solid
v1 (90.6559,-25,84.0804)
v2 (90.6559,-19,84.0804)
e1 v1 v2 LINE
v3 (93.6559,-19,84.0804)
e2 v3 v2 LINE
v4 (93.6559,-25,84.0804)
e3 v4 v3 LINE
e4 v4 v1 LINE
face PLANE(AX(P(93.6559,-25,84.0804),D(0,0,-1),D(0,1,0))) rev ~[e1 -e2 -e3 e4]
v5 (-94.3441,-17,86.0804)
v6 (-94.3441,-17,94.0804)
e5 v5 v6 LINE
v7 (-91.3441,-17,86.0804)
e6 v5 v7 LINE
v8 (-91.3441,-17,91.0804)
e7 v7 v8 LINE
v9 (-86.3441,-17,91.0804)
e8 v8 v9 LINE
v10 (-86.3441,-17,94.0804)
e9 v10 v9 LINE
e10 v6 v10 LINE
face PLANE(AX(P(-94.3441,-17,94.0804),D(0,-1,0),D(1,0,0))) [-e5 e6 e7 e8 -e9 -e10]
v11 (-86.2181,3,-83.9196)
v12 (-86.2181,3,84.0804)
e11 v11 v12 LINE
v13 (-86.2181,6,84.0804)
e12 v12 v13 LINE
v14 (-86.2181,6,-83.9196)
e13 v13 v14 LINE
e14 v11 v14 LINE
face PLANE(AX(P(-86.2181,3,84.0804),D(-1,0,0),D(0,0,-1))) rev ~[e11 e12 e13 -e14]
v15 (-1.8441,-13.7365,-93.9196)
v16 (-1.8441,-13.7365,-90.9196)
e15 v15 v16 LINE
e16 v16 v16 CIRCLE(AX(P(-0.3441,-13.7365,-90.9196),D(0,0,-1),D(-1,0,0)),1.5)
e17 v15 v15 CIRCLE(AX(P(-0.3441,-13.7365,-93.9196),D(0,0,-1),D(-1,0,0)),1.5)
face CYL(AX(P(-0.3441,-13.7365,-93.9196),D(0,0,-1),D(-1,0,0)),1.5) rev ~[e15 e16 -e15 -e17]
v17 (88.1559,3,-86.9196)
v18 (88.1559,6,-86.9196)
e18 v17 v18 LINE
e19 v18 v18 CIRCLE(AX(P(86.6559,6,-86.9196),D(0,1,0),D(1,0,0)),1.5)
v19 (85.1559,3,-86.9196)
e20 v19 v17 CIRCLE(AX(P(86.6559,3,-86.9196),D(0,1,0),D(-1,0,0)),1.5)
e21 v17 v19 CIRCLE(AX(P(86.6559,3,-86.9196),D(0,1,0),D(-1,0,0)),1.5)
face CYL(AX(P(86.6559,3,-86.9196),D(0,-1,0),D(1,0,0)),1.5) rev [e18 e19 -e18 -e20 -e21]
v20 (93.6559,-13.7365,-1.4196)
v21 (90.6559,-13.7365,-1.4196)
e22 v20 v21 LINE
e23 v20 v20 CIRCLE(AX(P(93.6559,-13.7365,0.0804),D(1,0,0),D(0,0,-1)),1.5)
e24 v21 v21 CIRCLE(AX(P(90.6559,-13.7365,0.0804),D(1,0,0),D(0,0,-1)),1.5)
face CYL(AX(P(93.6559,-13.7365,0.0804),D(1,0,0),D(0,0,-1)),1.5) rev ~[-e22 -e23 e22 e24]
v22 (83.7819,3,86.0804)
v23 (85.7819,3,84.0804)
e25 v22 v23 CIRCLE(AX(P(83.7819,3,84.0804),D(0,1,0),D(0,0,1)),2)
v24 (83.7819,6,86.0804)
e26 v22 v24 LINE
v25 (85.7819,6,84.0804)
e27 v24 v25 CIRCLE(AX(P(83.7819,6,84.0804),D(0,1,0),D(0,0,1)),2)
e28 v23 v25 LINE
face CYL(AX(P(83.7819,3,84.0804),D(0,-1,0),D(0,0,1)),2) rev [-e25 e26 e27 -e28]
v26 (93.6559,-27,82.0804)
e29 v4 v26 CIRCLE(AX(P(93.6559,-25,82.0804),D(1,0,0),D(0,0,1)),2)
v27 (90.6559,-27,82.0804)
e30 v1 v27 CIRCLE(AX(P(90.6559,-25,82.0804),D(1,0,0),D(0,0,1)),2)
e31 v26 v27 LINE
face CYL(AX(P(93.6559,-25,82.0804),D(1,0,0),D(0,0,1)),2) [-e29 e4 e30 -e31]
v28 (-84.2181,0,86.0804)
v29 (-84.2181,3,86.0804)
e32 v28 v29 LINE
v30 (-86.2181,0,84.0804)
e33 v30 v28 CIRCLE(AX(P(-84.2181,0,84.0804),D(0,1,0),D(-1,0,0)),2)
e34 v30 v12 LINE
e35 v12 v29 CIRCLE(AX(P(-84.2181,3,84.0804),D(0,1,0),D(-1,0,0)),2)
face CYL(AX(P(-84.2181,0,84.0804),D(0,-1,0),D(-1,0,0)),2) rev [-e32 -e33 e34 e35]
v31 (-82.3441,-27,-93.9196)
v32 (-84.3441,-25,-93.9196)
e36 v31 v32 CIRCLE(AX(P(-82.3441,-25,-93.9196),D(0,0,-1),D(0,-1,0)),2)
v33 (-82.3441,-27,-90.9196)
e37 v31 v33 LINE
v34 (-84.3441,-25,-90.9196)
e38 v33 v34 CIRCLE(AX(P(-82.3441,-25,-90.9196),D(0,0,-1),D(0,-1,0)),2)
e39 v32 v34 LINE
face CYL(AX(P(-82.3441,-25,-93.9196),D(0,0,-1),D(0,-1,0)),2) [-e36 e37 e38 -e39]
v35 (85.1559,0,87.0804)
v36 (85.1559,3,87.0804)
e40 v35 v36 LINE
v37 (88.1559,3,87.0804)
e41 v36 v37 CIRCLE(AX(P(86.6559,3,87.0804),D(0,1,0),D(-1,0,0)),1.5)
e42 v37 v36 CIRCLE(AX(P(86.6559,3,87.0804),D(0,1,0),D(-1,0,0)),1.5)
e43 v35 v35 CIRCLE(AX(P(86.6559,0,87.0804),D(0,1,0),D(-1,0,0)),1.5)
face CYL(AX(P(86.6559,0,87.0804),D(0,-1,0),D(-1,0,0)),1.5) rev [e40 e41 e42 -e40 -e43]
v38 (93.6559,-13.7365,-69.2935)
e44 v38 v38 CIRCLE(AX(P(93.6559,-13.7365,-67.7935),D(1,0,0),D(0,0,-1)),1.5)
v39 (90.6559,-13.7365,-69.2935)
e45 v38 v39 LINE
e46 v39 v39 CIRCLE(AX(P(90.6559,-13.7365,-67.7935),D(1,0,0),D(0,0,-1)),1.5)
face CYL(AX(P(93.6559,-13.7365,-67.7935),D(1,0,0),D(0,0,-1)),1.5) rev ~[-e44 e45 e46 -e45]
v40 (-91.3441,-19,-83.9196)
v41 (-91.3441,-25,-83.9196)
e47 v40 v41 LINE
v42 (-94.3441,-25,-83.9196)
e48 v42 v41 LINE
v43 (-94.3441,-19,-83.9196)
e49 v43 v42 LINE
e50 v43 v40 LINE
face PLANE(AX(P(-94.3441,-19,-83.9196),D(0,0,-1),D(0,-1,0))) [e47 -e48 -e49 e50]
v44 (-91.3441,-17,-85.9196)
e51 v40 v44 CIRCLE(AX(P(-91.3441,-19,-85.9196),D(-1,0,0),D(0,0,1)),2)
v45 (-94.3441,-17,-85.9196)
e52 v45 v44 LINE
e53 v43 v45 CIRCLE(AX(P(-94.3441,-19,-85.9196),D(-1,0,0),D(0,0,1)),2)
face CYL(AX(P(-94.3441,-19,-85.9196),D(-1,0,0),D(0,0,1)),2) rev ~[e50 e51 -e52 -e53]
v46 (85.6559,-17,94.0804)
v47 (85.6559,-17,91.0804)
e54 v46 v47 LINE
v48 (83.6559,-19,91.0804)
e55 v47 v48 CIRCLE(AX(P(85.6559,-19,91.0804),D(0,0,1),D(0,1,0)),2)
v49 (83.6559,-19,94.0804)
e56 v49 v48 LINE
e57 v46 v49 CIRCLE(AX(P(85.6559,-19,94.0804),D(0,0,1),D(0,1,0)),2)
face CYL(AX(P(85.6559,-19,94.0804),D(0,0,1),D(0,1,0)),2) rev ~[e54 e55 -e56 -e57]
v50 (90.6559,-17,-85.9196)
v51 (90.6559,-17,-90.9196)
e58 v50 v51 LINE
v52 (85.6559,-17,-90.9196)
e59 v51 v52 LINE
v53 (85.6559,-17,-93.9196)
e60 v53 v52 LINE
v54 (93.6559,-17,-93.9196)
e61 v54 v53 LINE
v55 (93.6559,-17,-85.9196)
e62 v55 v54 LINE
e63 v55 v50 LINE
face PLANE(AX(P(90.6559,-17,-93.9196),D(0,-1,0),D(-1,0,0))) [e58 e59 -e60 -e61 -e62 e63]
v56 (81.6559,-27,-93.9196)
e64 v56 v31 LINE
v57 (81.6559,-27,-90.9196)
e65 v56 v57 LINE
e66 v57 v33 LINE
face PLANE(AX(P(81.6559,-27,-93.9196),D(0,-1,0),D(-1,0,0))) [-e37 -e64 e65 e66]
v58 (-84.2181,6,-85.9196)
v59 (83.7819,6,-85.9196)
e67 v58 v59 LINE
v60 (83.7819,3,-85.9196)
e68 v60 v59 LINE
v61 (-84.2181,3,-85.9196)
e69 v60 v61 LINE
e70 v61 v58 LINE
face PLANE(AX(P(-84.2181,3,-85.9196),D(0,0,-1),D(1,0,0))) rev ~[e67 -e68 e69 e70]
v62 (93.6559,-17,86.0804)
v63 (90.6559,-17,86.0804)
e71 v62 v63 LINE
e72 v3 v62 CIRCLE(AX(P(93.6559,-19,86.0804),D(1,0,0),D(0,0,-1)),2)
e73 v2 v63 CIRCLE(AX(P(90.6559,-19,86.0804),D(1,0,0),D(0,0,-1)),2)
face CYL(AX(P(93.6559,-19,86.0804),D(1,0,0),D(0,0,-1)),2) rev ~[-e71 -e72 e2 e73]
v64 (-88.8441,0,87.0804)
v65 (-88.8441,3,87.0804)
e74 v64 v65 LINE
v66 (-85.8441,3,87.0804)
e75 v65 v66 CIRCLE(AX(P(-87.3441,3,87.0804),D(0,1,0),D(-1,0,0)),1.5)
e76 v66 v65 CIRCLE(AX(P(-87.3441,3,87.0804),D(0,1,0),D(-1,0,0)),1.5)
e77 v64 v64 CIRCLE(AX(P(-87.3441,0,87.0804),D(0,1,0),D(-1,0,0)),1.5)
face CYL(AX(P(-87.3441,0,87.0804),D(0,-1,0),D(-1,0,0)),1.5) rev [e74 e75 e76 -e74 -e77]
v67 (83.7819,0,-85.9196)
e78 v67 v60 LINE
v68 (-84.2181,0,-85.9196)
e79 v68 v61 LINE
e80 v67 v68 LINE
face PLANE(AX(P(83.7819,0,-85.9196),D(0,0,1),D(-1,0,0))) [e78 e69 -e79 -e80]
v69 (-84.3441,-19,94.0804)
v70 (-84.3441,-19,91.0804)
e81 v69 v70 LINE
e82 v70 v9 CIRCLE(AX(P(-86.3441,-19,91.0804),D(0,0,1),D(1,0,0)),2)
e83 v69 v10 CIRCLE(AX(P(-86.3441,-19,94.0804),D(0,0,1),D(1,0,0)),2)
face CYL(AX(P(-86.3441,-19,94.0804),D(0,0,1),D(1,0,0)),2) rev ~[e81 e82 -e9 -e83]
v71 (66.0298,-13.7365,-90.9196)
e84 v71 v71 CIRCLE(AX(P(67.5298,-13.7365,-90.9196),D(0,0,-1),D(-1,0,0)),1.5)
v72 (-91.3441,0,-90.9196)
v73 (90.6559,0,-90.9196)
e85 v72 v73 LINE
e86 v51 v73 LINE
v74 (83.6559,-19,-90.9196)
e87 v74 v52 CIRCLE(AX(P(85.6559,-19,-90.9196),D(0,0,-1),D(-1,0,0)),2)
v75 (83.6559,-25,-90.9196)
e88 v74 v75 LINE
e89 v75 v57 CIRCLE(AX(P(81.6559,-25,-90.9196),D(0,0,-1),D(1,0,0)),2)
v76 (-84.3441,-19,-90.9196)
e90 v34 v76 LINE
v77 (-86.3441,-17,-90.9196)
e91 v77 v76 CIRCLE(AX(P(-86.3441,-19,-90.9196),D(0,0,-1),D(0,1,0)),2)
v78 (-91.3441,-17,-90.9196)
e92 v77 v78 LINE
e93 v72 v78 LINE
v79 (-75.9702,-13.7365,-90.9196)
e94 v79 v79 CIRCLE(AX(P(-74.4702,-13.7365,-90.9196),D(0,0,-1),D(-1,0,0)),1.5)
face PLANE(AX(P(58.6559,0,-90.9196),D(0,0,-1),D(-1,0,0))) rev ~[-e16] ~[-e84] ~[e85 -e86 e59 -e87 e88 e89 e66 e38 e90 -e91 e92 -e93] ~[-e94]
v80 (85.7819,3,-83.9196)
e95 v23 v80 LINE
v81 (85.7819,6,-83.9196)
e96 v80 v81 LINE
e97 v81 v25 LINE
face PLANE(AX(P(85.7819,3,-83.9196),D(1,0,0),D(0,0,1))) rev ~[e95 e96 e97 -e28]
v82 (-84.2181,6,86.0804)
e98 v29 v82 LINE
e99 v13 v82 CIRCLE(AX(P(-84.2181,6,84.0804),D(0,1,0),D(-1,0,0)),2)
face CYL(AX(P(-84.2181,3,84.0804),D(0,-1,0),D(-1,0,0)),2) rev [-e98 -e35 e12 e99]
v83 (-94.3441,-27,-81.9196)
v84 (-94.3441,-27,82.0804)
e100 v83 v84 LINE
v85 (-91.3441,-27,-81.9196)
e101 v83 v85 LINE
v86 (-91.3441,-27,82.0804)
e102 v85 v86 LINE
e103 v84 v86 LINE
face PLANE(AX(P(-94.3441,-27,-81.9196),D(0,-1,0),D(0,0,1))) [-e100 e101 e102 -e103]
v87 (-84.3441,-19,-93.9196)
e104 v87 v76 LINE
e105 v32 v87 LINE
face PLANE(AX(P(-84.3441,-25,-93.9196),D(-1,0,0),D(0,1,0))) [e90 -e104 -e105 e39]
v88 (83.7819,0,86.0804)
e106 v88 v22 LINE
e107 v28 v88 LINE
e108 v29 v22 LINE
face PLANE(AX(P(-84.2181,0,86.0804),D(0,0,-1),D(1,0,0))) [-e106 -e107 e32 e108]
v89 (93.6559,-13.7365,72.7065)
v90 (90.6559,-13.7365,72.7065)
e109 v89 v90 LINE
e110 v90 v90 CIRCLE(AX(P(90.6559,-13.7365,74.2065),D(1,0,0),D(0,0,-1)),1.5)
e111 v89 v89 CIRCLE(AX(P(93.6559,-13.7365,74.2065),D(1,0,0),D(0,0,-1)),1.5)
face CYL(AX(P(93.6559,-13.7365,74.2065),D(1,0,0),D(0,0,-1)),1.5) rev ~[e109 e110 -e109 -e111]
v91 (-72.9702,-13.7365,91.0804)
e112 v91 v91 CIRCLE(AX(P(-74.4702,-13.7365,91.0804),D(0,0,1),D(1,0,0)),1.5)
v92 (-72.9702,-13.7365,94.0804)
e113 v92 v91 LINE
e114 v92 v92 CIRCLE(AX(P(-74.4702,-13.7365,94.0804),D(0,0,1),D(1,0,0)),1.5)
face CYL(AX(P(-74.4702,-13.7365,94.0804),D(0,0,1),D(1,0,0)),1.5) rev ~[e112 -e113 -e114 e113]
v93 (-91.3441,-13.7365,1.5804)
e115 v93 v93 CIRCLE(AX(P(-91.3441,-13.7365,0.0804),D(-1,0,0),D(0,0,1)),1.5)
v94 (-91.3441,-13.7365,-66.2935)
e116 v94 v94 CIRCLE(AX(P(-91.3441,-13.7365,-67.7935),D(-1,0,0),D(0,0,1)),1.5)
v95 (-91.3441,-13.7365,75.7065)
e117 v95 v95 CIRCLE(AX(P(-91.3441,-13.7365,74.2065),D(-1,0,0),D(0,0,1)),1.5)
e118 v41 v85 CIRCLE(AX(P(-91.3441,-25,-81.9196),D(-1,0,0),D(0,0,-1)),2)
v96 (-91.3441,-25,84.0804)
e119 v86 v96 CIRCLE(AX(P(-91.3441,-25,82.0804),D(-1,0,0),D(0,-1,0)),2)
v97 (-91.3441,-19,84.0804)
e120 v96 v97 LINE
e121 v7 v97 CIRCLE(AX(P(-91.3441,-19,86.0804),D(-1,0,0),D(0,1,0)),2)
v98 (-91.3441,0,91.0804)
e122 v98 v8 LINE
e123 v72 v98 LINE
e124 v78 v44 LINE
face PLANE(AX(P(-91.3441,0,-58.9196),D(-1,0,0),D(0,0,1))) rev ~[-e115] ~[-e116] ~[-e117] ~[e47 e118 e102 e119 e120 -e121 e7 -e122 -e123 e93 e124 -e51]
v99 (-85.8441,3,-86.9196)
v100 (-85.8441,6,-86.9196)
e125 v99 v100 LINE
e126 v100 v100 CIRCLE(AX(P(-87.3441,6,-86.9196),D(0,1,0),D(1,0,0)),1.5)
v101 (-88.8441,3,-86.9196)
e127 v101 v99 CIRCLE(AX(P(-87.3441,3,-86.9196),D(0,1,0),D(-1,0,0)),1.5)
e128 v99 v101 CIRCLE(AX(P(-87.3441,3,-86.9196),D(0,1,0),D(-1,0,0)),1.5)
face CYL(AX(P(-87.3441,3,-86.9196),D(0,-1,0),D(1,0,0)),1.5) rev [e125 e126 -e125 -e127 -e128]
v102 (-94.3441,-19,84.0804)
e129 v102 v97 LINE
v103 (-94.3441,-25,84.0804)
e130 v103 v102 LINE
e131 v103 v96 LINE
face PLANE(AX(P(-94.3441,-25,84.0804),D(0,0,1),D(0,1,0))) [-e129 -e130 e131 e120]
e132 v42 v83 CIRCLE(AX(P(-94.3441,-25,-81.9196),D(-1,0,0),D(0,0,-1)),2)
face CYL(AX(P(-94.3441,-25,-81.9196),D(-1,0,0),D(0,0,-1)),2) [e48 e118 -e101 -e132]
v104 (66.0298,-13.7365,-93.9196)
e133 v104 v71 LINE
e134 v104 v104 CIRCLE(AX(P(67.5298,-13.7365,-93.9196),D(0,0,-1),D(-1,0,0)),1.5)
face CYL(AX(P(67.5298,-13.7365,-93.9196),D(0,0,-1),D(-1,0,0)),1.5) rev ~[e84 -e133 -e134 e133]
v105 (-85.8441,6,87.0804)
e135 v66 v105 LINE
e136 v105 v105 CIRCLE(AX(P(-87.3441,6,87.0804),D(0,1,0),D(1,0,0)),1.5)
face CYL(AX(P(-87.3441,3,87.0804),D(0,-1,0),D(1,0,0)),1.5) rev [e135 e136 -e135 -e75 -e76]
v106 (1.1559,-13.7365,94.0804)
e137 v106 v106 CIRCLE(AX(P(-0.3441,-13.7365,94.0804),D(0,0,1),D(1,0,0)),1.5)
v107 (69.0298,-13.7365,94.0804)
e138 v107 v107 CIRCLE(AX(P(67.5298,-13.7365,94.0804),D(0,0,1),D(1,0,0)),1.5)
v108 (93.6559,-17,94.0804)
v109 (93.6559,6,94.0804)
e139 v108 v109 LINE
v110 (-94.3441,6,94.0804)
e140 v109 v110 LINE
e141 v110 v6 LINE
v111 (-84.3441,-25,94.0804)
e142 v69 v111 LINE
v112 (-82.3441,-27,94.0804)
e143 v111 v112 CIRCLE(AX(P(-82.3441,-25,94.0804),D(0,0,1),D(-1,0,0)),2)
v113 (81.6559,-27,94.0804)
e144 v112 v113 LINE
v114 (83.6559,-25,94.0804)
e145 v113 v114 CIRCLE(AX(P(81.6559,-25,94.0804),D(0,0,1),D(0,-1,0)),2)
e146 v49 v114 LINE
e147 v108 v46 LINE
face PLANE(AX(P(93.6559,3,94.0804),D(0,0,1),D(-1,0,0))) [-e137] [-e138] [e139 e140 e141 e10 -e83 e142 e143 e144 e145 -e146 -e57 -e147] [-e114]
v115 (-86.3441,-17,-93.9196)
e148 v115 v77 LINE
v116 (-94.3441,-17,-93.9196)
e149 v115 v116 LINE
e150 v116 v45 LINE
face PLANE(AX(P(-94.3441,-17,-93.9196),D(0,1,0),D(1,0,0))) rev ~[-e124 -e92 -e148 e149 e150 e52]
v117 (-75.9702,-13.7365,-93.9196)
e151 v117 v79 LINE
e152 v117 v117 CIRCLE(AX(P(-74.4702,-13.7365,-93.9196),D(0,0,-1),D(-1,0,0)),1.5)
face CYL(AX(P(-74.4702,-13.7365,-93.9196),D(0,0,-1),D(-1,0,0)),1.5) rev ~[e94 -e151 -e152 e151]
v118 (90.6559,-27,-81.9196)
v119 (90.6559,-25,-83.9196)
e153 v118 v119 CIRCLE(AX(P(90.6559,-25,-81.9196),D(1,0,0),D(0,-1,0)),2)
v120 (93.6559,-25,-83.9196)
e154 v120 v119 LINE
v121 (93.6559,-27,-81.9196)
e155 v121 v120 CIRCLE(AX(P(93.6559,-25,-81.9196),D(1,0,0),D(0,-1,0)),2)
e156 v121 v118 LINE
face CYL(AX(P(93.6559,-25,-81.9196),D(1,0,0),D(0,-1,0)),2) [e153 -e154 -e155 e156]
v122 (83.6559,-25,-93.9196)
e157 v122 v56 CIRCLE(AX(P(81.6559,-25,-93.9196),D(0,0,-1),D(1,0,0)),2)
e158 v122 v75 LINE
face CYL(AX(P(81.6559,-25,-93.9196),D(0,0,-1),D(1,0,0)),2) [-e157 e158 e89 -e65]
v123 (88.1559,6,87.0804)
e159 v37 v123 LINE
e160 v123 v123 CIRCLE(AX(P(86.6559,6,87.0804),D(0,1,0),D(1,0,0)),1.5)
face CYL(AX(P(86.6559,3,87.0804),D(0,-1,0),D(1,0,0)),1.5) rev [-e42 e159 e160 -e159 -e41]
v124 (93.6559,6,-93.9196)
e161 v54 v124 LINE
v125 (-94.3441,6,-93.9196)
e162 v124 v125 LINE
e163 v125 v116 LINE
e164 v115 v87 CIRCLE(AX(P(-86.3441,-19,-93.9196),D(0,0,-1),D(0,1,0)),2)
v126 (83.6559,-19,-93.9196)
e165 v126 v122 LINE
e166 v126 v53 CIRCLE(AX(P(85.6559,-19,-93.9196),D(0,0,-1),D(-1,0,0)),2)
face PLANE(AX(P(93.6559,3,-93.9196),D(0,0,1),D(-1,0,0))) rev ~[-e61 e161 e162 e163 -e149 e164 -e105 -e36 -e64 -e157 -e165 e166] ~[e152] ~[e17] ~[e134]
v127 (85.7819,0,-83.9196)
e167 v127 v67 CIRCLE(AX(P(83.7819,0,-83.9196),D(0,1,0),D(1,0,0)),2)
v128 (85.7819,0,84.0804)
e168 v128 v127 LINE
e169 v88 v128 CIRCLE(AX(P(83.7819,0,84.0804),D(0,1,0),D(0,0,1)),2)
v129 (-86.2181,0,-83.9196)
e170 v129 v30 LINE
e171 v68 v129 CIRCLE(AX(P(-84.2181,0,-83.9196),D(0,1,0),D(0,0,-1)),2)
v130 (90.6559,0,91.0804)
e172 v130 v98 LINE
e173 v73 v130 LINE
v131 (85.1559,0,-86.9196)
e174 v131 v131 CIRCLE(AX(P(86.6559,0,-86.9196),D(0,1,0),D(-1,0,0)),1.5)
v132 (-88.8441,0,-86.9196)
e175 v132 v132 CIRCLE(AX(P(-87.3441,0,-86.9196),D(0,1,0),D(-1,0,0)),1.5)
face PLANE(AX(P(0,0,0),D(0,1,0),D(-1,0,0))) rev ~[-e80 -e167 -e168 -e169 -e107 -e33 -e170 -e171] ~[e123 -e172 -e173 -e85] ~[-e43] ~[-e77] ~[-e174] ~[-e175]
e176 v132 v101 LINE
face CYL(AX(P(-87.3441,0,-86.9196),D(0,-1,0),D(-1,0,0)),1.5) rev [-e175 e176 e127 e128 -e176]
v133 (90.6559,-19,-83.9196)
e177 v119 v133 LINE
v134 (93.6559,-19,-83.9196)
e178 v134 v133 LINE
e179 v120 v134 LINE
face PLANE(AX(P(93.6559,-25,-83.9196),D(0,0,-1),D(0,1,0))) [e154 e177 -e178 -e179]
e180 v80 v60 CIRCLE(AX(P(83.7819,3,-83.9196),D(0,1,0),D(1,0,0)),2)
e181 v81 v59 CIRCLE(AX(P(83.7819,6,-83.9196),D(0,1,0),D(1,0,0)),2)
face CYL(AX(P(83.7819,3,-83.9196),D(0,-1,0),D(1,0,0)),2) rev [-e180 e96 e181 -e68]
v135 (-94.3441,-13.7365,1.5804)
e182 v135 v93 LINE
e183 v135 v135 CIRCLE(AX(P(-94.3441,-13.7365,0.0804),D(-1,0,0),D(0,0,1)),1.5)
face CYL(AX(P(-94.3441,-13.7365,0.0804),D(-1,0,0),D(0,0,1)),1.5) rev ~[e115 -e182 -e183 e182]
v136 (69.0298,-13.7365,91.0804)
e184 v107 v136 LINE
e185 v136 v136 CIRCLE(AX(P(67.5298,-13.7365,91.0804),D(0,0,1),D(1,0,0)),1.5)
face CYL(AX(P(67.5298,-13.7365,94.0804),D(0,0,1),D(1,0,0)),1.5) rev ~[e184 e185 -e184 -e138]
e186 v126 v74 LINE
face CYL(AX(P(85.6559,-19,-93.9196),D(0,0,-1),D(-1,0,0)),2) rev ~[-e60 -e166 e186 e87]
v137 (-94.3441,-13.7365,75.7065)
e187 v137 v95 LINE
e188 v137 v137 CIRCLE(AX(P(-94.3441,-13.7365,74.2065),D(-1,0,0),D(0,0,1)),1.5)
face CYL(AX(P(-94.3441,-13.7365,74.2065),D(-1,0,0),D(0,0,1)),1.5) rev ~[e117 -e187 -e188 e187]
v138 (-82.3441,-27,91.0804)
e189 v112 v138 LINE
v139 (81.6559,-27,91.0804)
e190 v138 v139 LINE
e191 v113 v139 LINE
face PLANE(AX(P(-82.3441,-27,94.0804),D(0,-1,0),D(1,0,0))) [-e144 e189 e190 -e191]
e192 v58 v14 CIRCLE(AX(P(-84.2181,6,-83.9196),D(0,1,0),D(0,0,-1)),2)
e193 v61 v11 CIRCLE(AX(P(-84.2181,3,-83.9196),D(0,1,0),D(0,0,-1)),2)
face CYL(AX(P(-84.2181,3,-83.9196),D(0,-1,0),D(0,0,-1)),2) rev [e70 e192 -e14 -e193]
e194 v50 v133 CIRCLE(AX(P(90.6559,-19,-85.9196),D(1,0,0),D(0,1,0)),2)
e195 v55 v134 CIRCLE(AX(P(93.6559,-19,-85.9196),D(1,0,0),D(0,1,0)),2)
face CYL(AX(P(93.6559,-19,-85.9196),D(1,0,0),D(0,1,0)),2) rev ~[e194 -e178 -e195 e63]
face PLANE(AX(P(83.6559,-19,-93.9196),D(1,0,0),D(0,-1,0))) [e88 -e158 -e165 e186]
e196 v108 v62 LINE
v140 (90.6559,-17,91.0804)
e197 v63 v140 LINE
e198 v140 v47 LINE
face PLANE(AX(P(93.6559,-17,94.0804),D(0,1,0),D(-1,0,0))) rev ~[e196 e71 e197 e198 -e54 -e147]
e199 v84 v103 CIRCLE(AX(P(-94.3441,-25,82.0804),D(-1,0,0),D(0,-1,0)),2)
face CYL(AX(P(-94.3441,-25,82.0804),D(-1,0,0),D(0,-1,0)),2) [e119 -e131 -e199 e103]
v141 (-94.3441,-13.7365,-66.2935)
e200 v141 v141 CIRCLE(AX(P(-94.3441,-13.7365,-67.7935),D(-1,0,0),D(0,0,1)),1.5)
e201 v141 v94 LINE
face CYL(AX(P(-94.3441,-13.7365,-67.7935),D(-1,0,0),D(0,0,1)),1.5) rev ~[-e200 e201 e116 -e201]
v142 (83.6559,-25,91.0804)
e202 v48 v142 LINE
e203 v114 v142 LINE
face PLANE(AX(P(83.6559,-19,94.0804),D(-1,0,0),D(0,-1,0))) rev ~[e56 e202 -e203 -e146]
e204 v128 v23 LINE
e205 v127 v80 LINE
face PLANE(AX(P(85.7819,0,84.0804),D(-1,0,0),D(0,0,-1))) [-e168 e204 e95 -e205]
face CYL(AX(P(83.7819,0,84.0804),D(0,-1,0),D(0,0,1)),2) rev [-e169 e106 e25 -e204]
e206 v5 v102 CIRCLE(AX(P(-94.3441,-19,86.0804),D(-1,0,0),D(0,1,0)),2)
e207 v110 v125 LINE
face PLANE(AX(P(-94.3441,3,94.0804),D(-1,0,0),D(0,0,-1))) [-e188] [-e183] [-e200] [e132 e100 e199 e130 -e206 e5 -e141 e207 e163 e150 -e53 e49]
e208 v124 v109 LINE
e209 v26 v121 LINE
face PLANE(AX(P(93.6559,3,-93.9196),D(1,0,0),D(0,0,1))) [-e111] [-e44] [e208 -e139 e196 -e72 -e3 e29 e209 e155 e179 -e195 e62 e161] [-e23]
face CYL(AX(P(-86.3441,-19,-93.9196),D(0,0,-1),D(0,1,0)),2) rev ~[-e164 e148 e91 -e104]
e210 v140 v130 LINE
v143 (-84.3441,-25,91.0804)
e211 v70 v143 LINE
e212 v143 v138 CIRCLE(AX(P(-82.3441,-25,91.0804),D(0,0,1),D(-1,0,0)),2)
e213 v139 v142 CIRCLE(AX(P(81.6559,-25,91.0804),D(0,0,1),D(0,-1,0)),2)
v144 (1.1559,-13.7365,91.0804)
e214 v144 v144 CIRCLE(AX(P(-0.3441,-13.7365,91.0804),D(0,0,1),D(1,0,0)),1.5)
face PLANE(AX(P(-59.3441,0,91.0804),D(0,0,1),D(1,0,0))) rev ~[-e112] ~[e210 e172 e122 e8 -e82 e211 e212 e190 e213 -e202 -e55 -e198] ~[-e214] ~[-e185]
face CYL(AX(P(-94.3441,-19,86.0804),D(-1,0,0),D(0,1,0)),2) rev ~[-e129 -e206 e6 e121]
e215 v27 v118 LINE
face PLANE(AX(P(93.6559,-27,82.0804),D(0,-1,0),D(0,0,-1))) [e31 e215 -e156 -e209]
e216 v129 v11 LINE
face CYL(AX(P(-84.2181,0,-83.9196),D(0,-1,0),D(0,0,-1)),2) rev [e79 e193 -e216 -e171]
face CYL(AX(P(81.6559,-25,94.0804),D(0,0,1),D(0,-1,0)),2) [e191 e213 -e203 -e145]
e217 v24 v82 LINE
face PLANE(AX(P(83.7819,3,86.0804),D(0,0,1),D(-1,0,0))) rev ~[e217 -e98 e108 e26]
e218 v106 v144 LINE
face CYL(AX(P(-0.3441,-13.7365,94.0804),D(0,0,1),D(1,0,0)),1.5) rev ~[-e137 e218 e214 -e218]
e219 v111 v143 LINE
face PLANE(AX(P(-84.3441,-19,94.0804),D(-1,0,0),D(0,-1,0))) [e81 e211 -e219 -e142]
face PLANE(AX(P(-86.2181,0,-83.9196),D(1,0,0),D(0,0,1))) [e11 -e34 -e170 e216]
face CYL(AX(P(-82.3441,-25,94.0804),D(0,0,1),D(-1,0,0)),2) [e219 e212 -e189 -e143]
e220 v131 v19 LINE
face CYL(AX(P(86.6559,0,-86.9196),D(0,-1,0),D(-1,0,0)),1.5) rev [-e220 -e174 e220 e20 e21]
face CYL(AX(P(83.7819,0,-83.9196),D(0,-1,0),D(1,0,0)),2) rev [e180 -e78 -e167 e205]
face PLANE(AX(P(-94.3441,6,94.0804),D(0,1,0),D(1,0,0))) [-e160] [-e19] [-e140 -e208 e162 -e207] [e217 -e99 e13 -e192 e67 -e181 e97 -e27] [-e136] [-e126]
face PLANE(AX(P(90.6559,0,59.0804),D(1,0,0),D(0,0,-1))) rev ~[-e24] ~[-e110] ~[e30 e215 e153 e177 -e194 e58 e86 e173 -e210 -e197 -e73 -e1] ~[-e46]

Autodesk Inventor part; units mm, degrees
ref_plane "YZ Plane" through (0, 0, 0) normal (1, 0, 0) x (0, 1, 0)
ref_plane "XZ Plane" through (0, 0, 0) normal (0, 1, 0) x (-1, 0, 0)
ref_plane "XY Plane" through (0, 0, 0) normal (0, 0, 1) x (1, 0, 0)
sketch "bed" plane through (0, 0, 0) normal (0, 1, 0) x (-1, 0, 0)
  line L0 (59.3441, 94.0804) -> (59.3441, 91.0804)
  line L1 (59.3441, 91.0804) -> (91.3441, 91.0804)
  line L2 (-18.6559, 94.0804) -> (-18.6559, 91.0804)
  line L3 (-18.6559, 91.0804) -> (19.3441, 91.0804)
  line L4 (19.3441, 91.0804) -> (19.3441, 94.0804)
  line L5 (-18.6559, 94.0804) -> (-58.6559, 94.0804)
  line L6 (-58.6559, 94.0804) -> (-58.6559, 91.0804)
  line L7 (59.3441, 94.0804) -> (19.3441, 94.0804)
  line L8 (-58.6559, 91.0804) -> (-90.6559, 91.0804)
  line L9 (59.3441, -93.9196) -> (59.3441, -90.9196)
  line L10 (59.3441, -90.9196) -> (91.3441, -90.9196)
  line L11 (-18.6559, -93.9196) -> (-18.6559, -90.9196)
  line L12 (-18.6559, -90.9196) -> (19.3441, -90.9196)
  line L13 (-58.6559, -93.9196) -> (-58.6559, -90.9196)
  line L14 (59.3441, -93.9196) -> (19.3441, -93.9196)
  line L15 (-18.6559, -93.9196) -> (-58.6559, -93.9196)
  line L16 (-58.6559, -90.9196) -> (-90.6559, -90.9196)
  line L17 (94.3441, 59.0804) -> (91.3441, 59.0804)
  line L18 (94.3441, 59.0804) -> (94.3441, 19.0804)
  line L19 (91.3441, -18.9196) -> (91.3441, 19.0804)
  line L20 (94.3441, -18.9196) -> (91.3441, -18.9196)
  line L21 (94.3441, -58.9196) -> (91.3441, -58.9196)
  line L22 (94.3441, -18.9196) -> (94.3441, -58.9196)
  line L23 (91.3441, 59.0804) -> (91.3441, 91.0804)
  line L24 (91.3441, -58.9196) -> (91.3441, -90.9196)
  line L25 (84.2181, 86.0804) -> (-83.7819, 86.0804)
  line L26 (-85.7819, 84.0804) -> (-85.7819, -83.9196)
  line L27 (-83.7819, -85.9196) -> (84.2181, -85.9196)
  line L28 (86.2181, -83.9196) -> (86.2181, 84.0804)
  arc A0 (86.2181, 84.0804) -> (84.2181, 86.0804) centre (84.2181, 84.0804) ccw
  arc A1 (84.2181, -85.9196) -> (86.2181, -83.9196) centre (84.2181, -83.9196) ccw
  arc A2 (-85.7819, -83.9196) -> (-83.7819, -85.9196) centre (-83.7819, -83.9196) ccw
  arc A3 (-83.7819, 86.0804) -> (-85.7819, 84.0804) centre (-83.7819, 84.0804) ccw
  line L29 (-93.6559, -18.9196) -> (-93.6559, -58.9196)
  line L30 (-93.6559, -58.9196) -> (-90.6559, -58.9196)
  line L31 (-93.6559, -18.9196) -> (-90.6559, -18.9196)
  line L32 (-90.6559, -18.9196) -> (-90.6559, 19.0804)
  line L33 (-90.6559, 19.0804) -> (-93.6559, 19.0804)
  line L34 (-93.6559, 59.0804) -> (-90.6559, 59.0804)
  line L35 (-90.6559, 59.0804) -> (-90.6559, 91.0804)
  line L36 (-93.6559, 59.0804) -> (-93.6559, 19.0804)
  line L37 (-90.6559, -58.9196) -> (-90.6559, -90.9196)
  line L38 (19.3441, -90.9196) -> (19.3441, -93.9196)
  line L39 (91.3441, 19.0804) -> (94.3441, 19.0804)
  circle A4 centre (87.3441, -86.9196) radius 1.5
  circle A5 centre (87.3441, 87.0804) radius 1.5
  circle A6 centre (-86.6559, -86.9196) radius 1.5
  circle A7 centre (-86.6559, 87.0804) radius 1.5
  point P0 (-85.7819, -85.9196)
  point P1 (-85.7819, 86.0804)
  point P2 (86.2181, -85.9196)
  point P3 (-85.1961, 85.4946)
  point P4 (85.6323, 85.4946)
  dimension "d31" = 3
  dimension "d36" = 40
  dimension "d37" = 38
  dimension "d38" = 40
  dimension "d47" = 3
  dimension "d49" = 172
  dimension "d50" = 2
  dimension "d56" = 188
  dimension "d114" = 3
  dimension "d115" = 35
  dimension "d116" = 35
  dimension "d117" = 3
  dimension "d118" = 35
  dimension "d119" = 40
  dimension "d120" = 38
  dimension "d121" = 40
  dimension "d125" = 40
  dimension "d126" = 35
  dimension "d127" = 40
  dimension "d128" = 38
  dimension "d129" = 40
  dimension "d130" = 35
  dimension "d164" = 3
  dimension "d165" = 4
  dimension "d166" = 4
  dimension "d167" = 3
  dimension "d168" = 3
  dimension "d169" = 3
  dimension "d170" = 4
  dimension "d171" = 4
extrude "Extrusion1" add sketch "bed" along normal blind 3
sketch "Sketch10" plane through (93.6559, 0, 59.0804) normal (1, 0, 0) x (0, 0, -1)
  circle A0 centre (59, -13.7365) radius 1.5
  circle A1 centre (-15.1261, -13.7365) radius 1.5
  circle A2 centre (126.8739, -13.7365) radius 1.5
  line L0 (-32, 3) -> (0, 3) projected
  line L1 (0, 0) -> (0, 3) projected
  line L2 (0, 0) -> (40, 0) projected
  line L3 (40, 0) -> (40, 3) projected
  line L4 (40, 3) -> (78, 3) projected
  line L5 (78, 0) -> (78, 3) projected
  line L6 (78, 0) -> (118, 0) projected
  line L7 (118, 0) -> (118, 3) projected
  line L8 (118, 3) -> (150, 3) projected
  line L9 (-35, 3) -> (-32, 3) projected
  line L10 (-35, 3) -> (-35, -7)
  line L11 (-35, -7) -> (-32, -7)
  line L12 (-32, -7) -> (-32, -17)
  line L13 (150, -17) -> (150, -7)
  line L14 (150, -7) -> (153, -7)
  line L15 (150, 3) -> (153, 3) projected
  line L16 (153, -7) -> (153, 3)
  line L17 (-25, -25) -> (-25, -19)
  line L18 (-27, -17) -> (-32, -17)
  line L19 (143, -25) -> (143, -19)
  line L20 (145, -17) -> (150, -17)
  line L21 (-23, -27) -> (141, -27)
  arc A3 (-25, -19) -> (-27, -17) centre (-27, -19) ccw
  arc A4 (-25, -25) -> (-23, -27) centre (-23, -25) ccw
  arc A5 (141, -27) -> (143, -25) centre (141, -25) ccw
  arc A6 (145, -17) -> (143, -19) centre (145, -19) ccw
  point P0 (-25, -27)
  point P1 (-25, -17)
  point P2 (143, -17)
  point P3 (143, -27)
  dimension "d50" = 2
  dimension "d61" = 3
  dimension "d62" = 3
  dimension "d63" = 3
  dimension "d134" = 10
  dimension "d135" = 3
  dimension "d136" = 10
  dimension "d152" = 10
  dimension "d154" = 10
  dimension "d155" = 2
extrude "PRINT L" add sketch "Sketch10" against normal blind 3
sketch "Sketch13" plane through (-94.3441, 0, -58.9196) normal (-1, 0, 0) x (0, 0, 1)
  line L0 (-32, -7) -> (-32, -17) projected
  line L1 (-35, -7) -> (-32, -7) projected
  line L2 (-35, 3) -> (-35, -7) projected
  line L3 (150, -7) -> (153, -7) projected
  line L4 (153, -7) -> (153, 3) projected
  circle A0 centre (133.1261, -13.7365) radius 1.5 projected
  circle A1 centre (59, -13.7365) radius 1.5 projected
  circle A2 centre (-8.8739, -13.7365) radius 1.5 projected
  line L5 (-35, 3) -> (-32, 3) projected
  line L6 (-32, 3) -> (0, 3) projected
  line L7 (0, 0) -> (0, 3) projected
  line L8 (0, 0) -> (40, 0) projected
  line L9 (40, 0) -> (40, 3) projected
  line L10 (40, 3) -> (78, 3) projected
  line L11 (78, 0) -> (78, 3) projected
  line L12 (78, 0) -> (118, 0) projected
  line L13 (118, 0) -> (118, 3) projected
  line L14 (118, 3) -> (150, 3) projected
  line L15 (150, 3) -> (153, 3) projected
  line L16 (-32, -17) -> (-27, -17) projected
  arc A3 (-25, -19) -> (-27, -17) centre (-27, -19) ccw projected
  line L17 (-25, -19) -> (-25, -25) projected
  arc A4 (-25, -25) -> (-23, -27) centre (-23, -25) ccw projected
  line L18 (-23, -27) -> (141, -27) projected
  arc A5 (141, -27) -> (143, -25) centre (141, -25) ccw projected
  line L19 (143, -25) -> (143, -19) projected
  arc A6 (145, -17) -> (143, -19) centre (145, -19) ccw projected
  line L20 (145, -17) -> (150, -17) projected
  line L21 (150, -17) -> (150, -7) projected
extrude "Right" add sketch "Sketch13" against normal blind 3
sketch "Sketch14" plane through (-59.3441, 0, 94.0804) normal (0, 0, 1) x (1, 0, 0)
  line L0 (-35, -7) -> (-32, -7) projected
  line L1 (-32, 3) -> (-32, -7) projected
  line L2 (-32, 3) -> (0, 3) projected
  line L3 (0, 0) -> (0, 3) projected
  line L4 (0, 0) -> (40, 0) projected
  line L5 (40, 0) -> (40, 3) projected
  line L6 (40, 3) -> (78, 3) projected
  line L7 (78, 0) -> (78, 3) projected
  line L8 (78, 0) -> (118, 0) projected
  line L9 (118, 3) -> (150, 3) projected
  line L10 (118, 0) -> (118, 3) projected
  line L11 (150, -7) -> (150, 3) projected
  line L12 (153, -7) -> (150, -7) projected
  circle A0 centre (59, -13.7365) radius 1.5
  circle A1 centre (-15.1261, -13.7365) radius 1.5
  circle A2 centre (126.8739, -13.7365) radius 1.5
  line L13 (-35, -17) -> (-35, -7) projected
  line L14 (153, -7) -> (153, -17) projected
  line L15 (-35, -17) -> (-27, -17)
  line L16 (-25, -19) -> (-25, -25)
  line L17 (153, -17) -> (145, -17)
  line L18 (143, -19) -> (143, -25)
  line L19 (-23, -27) -> (141, -27)
  arc A3 (-25, -25) -> (-23, -27) centre (-23, -25) ccw
  arc A4 (-25, -19) -> (-27, -17) centre (-27, -19) ccw
  arc A5 (145, -17) -> (143, -19) centre (145, -19) ccw
  arc A6 (141, -27) -> (143, -25) centre (141, -25) ccw
  point P0 (59.3441, 0)
  point P1 (-25, -27)
  point P2 (-25, -17)
  point P3 (143, -27)
  point P4 (143, -17)
  dimension "d50" = 2
  dimension "d144" = 3
  dimension "d145" = 3
  dimension "d146" = 3
  dimension "d157" = 10
  dimension "d159" = 10
  dimension "d160" = 2
extrude "PRINT UP" add sketch "Sketch14" against normal blind 3
sketch "Sketch15" plane through (58.6559, 0, -93.9196) normal (0, 0, -1) x (-1, 0, 0)
  circle A0 centre (-8.8739, -13.7365) radius 1.5 projected
  circle A1 centre (59, -13.7365) radius 1.5 projected
  circle A2 centre (133.1261, -13.7365) radius 1.5 projected
  line L0 (-35, -7) -> (-32, -7) projected
  line L1 (-32, 3) -> (-32, -7) projected
  line L2 (-32, 3) -> (0, 3) projected
  line L3 (0, 0) -> (0, 3) projected
  line L4 (0, 0) -> (40, 0) projected
  line L5 (40, 0) -> (40, 3) projected
  line L6 (40, 3) -> (78, 3) projected
  line L7 (78, 0) -> (78, 3) projected
  line L8 (78, 0) -> (118, 0) projected
  line L9 (118, 0) -> (118, 3) projected
  line L10 (118, 3) -> (150, 3) projected
  line L11 (150, 0) -> (150, 3) projected
  line L12 (153, -7) -> (150, -7) projected
  line L13 (150, -7) -> (150, 3) projected
  line L14 (-35, -17) -> (-35, -7) projected
  line L15 (-35, -17) -> (-32, -17) projected
  line L16 (-32, -17) -> (-27, -17) projected
  arc A3 (-25, -19) -> (-27, -17) centre (-27, -19) ccw projected
  line L17 (-25, -19) -> (-25, -25) projected
  arc A4 (-25, -25) -> (-23, -27) centre (-23, -25) ccw projected
  line L18 (-23, -27) -> (141, -27) projected
  arc A5 (141, -27) -> (143, -25) centre (141, -25) ccw projected
  line L19 (143, -25) -> (143, -19) projected
  arc A6 (145, -17) -> (143, -19) centre (145, -19) ccw projected
  line L20 (145, -17) -> (150, -17) projected
  line L21 (153, -17) -> (150, -17) projected
  line L22 (153, -7) -> (153, -17) projected
  point P0 (58.6559, 0)
extrude "Down" add sketch "Sketch15" against normal blind 3
sketch "Sketch16" plane through (-94.3441, 3, 94.0804) normal (0, 1, 0) x (1, 0, 0)
  line L0 (188, 0) -> (0, 0) projected
  line L1 (188, 188) -> (188, 0) projected
  line L2 (188, 188) -> (185, 188) projected
  line L3 (3, 188) -> (185, 188) projected
  line L4 (0, 188) -> (3, 188) projected
  line L5 (0, 0) -> (0, 188) projected
  circle A0 centre (7, 181) radius 1.5 projected
  circle A1 centre (7, 7) radius 1.5 projected
  circle A2 centre (181, 181) radius 1.5 projected
  circle A3 centre (181, 7) radius 1.5 projected
  arc A4 (8.126, 10) -> (10.126, 8) centre (10.126, 10) ccw projected
  line L6 (8.126, 10) -> (8.126, 178) projected
  arc A5 (10.126, 180) -> (8.126, 178) centre (10.126, 178) ccw projected
  line L7 (10.126, 180) -> (178.126, 180) projected
  arc A6 (180.126, 178) -> (178.126, 180) centre (178.126, 178) ccw projected
  line L8 (180.126, 178) -> (180.126, 10) projected
  arc A7 (178.126, 8) -> (180.126, 10) centre (178.126, 10) ccw projected
  line L9 (178.126, 8) -> (10.126, 8) projected
  dimension "d50" = 2
extrude "Extrusion13" add sketch "Sketch16" along normal blind 3
properties part number "Bottom fabric holder" material "PET Plastic"
